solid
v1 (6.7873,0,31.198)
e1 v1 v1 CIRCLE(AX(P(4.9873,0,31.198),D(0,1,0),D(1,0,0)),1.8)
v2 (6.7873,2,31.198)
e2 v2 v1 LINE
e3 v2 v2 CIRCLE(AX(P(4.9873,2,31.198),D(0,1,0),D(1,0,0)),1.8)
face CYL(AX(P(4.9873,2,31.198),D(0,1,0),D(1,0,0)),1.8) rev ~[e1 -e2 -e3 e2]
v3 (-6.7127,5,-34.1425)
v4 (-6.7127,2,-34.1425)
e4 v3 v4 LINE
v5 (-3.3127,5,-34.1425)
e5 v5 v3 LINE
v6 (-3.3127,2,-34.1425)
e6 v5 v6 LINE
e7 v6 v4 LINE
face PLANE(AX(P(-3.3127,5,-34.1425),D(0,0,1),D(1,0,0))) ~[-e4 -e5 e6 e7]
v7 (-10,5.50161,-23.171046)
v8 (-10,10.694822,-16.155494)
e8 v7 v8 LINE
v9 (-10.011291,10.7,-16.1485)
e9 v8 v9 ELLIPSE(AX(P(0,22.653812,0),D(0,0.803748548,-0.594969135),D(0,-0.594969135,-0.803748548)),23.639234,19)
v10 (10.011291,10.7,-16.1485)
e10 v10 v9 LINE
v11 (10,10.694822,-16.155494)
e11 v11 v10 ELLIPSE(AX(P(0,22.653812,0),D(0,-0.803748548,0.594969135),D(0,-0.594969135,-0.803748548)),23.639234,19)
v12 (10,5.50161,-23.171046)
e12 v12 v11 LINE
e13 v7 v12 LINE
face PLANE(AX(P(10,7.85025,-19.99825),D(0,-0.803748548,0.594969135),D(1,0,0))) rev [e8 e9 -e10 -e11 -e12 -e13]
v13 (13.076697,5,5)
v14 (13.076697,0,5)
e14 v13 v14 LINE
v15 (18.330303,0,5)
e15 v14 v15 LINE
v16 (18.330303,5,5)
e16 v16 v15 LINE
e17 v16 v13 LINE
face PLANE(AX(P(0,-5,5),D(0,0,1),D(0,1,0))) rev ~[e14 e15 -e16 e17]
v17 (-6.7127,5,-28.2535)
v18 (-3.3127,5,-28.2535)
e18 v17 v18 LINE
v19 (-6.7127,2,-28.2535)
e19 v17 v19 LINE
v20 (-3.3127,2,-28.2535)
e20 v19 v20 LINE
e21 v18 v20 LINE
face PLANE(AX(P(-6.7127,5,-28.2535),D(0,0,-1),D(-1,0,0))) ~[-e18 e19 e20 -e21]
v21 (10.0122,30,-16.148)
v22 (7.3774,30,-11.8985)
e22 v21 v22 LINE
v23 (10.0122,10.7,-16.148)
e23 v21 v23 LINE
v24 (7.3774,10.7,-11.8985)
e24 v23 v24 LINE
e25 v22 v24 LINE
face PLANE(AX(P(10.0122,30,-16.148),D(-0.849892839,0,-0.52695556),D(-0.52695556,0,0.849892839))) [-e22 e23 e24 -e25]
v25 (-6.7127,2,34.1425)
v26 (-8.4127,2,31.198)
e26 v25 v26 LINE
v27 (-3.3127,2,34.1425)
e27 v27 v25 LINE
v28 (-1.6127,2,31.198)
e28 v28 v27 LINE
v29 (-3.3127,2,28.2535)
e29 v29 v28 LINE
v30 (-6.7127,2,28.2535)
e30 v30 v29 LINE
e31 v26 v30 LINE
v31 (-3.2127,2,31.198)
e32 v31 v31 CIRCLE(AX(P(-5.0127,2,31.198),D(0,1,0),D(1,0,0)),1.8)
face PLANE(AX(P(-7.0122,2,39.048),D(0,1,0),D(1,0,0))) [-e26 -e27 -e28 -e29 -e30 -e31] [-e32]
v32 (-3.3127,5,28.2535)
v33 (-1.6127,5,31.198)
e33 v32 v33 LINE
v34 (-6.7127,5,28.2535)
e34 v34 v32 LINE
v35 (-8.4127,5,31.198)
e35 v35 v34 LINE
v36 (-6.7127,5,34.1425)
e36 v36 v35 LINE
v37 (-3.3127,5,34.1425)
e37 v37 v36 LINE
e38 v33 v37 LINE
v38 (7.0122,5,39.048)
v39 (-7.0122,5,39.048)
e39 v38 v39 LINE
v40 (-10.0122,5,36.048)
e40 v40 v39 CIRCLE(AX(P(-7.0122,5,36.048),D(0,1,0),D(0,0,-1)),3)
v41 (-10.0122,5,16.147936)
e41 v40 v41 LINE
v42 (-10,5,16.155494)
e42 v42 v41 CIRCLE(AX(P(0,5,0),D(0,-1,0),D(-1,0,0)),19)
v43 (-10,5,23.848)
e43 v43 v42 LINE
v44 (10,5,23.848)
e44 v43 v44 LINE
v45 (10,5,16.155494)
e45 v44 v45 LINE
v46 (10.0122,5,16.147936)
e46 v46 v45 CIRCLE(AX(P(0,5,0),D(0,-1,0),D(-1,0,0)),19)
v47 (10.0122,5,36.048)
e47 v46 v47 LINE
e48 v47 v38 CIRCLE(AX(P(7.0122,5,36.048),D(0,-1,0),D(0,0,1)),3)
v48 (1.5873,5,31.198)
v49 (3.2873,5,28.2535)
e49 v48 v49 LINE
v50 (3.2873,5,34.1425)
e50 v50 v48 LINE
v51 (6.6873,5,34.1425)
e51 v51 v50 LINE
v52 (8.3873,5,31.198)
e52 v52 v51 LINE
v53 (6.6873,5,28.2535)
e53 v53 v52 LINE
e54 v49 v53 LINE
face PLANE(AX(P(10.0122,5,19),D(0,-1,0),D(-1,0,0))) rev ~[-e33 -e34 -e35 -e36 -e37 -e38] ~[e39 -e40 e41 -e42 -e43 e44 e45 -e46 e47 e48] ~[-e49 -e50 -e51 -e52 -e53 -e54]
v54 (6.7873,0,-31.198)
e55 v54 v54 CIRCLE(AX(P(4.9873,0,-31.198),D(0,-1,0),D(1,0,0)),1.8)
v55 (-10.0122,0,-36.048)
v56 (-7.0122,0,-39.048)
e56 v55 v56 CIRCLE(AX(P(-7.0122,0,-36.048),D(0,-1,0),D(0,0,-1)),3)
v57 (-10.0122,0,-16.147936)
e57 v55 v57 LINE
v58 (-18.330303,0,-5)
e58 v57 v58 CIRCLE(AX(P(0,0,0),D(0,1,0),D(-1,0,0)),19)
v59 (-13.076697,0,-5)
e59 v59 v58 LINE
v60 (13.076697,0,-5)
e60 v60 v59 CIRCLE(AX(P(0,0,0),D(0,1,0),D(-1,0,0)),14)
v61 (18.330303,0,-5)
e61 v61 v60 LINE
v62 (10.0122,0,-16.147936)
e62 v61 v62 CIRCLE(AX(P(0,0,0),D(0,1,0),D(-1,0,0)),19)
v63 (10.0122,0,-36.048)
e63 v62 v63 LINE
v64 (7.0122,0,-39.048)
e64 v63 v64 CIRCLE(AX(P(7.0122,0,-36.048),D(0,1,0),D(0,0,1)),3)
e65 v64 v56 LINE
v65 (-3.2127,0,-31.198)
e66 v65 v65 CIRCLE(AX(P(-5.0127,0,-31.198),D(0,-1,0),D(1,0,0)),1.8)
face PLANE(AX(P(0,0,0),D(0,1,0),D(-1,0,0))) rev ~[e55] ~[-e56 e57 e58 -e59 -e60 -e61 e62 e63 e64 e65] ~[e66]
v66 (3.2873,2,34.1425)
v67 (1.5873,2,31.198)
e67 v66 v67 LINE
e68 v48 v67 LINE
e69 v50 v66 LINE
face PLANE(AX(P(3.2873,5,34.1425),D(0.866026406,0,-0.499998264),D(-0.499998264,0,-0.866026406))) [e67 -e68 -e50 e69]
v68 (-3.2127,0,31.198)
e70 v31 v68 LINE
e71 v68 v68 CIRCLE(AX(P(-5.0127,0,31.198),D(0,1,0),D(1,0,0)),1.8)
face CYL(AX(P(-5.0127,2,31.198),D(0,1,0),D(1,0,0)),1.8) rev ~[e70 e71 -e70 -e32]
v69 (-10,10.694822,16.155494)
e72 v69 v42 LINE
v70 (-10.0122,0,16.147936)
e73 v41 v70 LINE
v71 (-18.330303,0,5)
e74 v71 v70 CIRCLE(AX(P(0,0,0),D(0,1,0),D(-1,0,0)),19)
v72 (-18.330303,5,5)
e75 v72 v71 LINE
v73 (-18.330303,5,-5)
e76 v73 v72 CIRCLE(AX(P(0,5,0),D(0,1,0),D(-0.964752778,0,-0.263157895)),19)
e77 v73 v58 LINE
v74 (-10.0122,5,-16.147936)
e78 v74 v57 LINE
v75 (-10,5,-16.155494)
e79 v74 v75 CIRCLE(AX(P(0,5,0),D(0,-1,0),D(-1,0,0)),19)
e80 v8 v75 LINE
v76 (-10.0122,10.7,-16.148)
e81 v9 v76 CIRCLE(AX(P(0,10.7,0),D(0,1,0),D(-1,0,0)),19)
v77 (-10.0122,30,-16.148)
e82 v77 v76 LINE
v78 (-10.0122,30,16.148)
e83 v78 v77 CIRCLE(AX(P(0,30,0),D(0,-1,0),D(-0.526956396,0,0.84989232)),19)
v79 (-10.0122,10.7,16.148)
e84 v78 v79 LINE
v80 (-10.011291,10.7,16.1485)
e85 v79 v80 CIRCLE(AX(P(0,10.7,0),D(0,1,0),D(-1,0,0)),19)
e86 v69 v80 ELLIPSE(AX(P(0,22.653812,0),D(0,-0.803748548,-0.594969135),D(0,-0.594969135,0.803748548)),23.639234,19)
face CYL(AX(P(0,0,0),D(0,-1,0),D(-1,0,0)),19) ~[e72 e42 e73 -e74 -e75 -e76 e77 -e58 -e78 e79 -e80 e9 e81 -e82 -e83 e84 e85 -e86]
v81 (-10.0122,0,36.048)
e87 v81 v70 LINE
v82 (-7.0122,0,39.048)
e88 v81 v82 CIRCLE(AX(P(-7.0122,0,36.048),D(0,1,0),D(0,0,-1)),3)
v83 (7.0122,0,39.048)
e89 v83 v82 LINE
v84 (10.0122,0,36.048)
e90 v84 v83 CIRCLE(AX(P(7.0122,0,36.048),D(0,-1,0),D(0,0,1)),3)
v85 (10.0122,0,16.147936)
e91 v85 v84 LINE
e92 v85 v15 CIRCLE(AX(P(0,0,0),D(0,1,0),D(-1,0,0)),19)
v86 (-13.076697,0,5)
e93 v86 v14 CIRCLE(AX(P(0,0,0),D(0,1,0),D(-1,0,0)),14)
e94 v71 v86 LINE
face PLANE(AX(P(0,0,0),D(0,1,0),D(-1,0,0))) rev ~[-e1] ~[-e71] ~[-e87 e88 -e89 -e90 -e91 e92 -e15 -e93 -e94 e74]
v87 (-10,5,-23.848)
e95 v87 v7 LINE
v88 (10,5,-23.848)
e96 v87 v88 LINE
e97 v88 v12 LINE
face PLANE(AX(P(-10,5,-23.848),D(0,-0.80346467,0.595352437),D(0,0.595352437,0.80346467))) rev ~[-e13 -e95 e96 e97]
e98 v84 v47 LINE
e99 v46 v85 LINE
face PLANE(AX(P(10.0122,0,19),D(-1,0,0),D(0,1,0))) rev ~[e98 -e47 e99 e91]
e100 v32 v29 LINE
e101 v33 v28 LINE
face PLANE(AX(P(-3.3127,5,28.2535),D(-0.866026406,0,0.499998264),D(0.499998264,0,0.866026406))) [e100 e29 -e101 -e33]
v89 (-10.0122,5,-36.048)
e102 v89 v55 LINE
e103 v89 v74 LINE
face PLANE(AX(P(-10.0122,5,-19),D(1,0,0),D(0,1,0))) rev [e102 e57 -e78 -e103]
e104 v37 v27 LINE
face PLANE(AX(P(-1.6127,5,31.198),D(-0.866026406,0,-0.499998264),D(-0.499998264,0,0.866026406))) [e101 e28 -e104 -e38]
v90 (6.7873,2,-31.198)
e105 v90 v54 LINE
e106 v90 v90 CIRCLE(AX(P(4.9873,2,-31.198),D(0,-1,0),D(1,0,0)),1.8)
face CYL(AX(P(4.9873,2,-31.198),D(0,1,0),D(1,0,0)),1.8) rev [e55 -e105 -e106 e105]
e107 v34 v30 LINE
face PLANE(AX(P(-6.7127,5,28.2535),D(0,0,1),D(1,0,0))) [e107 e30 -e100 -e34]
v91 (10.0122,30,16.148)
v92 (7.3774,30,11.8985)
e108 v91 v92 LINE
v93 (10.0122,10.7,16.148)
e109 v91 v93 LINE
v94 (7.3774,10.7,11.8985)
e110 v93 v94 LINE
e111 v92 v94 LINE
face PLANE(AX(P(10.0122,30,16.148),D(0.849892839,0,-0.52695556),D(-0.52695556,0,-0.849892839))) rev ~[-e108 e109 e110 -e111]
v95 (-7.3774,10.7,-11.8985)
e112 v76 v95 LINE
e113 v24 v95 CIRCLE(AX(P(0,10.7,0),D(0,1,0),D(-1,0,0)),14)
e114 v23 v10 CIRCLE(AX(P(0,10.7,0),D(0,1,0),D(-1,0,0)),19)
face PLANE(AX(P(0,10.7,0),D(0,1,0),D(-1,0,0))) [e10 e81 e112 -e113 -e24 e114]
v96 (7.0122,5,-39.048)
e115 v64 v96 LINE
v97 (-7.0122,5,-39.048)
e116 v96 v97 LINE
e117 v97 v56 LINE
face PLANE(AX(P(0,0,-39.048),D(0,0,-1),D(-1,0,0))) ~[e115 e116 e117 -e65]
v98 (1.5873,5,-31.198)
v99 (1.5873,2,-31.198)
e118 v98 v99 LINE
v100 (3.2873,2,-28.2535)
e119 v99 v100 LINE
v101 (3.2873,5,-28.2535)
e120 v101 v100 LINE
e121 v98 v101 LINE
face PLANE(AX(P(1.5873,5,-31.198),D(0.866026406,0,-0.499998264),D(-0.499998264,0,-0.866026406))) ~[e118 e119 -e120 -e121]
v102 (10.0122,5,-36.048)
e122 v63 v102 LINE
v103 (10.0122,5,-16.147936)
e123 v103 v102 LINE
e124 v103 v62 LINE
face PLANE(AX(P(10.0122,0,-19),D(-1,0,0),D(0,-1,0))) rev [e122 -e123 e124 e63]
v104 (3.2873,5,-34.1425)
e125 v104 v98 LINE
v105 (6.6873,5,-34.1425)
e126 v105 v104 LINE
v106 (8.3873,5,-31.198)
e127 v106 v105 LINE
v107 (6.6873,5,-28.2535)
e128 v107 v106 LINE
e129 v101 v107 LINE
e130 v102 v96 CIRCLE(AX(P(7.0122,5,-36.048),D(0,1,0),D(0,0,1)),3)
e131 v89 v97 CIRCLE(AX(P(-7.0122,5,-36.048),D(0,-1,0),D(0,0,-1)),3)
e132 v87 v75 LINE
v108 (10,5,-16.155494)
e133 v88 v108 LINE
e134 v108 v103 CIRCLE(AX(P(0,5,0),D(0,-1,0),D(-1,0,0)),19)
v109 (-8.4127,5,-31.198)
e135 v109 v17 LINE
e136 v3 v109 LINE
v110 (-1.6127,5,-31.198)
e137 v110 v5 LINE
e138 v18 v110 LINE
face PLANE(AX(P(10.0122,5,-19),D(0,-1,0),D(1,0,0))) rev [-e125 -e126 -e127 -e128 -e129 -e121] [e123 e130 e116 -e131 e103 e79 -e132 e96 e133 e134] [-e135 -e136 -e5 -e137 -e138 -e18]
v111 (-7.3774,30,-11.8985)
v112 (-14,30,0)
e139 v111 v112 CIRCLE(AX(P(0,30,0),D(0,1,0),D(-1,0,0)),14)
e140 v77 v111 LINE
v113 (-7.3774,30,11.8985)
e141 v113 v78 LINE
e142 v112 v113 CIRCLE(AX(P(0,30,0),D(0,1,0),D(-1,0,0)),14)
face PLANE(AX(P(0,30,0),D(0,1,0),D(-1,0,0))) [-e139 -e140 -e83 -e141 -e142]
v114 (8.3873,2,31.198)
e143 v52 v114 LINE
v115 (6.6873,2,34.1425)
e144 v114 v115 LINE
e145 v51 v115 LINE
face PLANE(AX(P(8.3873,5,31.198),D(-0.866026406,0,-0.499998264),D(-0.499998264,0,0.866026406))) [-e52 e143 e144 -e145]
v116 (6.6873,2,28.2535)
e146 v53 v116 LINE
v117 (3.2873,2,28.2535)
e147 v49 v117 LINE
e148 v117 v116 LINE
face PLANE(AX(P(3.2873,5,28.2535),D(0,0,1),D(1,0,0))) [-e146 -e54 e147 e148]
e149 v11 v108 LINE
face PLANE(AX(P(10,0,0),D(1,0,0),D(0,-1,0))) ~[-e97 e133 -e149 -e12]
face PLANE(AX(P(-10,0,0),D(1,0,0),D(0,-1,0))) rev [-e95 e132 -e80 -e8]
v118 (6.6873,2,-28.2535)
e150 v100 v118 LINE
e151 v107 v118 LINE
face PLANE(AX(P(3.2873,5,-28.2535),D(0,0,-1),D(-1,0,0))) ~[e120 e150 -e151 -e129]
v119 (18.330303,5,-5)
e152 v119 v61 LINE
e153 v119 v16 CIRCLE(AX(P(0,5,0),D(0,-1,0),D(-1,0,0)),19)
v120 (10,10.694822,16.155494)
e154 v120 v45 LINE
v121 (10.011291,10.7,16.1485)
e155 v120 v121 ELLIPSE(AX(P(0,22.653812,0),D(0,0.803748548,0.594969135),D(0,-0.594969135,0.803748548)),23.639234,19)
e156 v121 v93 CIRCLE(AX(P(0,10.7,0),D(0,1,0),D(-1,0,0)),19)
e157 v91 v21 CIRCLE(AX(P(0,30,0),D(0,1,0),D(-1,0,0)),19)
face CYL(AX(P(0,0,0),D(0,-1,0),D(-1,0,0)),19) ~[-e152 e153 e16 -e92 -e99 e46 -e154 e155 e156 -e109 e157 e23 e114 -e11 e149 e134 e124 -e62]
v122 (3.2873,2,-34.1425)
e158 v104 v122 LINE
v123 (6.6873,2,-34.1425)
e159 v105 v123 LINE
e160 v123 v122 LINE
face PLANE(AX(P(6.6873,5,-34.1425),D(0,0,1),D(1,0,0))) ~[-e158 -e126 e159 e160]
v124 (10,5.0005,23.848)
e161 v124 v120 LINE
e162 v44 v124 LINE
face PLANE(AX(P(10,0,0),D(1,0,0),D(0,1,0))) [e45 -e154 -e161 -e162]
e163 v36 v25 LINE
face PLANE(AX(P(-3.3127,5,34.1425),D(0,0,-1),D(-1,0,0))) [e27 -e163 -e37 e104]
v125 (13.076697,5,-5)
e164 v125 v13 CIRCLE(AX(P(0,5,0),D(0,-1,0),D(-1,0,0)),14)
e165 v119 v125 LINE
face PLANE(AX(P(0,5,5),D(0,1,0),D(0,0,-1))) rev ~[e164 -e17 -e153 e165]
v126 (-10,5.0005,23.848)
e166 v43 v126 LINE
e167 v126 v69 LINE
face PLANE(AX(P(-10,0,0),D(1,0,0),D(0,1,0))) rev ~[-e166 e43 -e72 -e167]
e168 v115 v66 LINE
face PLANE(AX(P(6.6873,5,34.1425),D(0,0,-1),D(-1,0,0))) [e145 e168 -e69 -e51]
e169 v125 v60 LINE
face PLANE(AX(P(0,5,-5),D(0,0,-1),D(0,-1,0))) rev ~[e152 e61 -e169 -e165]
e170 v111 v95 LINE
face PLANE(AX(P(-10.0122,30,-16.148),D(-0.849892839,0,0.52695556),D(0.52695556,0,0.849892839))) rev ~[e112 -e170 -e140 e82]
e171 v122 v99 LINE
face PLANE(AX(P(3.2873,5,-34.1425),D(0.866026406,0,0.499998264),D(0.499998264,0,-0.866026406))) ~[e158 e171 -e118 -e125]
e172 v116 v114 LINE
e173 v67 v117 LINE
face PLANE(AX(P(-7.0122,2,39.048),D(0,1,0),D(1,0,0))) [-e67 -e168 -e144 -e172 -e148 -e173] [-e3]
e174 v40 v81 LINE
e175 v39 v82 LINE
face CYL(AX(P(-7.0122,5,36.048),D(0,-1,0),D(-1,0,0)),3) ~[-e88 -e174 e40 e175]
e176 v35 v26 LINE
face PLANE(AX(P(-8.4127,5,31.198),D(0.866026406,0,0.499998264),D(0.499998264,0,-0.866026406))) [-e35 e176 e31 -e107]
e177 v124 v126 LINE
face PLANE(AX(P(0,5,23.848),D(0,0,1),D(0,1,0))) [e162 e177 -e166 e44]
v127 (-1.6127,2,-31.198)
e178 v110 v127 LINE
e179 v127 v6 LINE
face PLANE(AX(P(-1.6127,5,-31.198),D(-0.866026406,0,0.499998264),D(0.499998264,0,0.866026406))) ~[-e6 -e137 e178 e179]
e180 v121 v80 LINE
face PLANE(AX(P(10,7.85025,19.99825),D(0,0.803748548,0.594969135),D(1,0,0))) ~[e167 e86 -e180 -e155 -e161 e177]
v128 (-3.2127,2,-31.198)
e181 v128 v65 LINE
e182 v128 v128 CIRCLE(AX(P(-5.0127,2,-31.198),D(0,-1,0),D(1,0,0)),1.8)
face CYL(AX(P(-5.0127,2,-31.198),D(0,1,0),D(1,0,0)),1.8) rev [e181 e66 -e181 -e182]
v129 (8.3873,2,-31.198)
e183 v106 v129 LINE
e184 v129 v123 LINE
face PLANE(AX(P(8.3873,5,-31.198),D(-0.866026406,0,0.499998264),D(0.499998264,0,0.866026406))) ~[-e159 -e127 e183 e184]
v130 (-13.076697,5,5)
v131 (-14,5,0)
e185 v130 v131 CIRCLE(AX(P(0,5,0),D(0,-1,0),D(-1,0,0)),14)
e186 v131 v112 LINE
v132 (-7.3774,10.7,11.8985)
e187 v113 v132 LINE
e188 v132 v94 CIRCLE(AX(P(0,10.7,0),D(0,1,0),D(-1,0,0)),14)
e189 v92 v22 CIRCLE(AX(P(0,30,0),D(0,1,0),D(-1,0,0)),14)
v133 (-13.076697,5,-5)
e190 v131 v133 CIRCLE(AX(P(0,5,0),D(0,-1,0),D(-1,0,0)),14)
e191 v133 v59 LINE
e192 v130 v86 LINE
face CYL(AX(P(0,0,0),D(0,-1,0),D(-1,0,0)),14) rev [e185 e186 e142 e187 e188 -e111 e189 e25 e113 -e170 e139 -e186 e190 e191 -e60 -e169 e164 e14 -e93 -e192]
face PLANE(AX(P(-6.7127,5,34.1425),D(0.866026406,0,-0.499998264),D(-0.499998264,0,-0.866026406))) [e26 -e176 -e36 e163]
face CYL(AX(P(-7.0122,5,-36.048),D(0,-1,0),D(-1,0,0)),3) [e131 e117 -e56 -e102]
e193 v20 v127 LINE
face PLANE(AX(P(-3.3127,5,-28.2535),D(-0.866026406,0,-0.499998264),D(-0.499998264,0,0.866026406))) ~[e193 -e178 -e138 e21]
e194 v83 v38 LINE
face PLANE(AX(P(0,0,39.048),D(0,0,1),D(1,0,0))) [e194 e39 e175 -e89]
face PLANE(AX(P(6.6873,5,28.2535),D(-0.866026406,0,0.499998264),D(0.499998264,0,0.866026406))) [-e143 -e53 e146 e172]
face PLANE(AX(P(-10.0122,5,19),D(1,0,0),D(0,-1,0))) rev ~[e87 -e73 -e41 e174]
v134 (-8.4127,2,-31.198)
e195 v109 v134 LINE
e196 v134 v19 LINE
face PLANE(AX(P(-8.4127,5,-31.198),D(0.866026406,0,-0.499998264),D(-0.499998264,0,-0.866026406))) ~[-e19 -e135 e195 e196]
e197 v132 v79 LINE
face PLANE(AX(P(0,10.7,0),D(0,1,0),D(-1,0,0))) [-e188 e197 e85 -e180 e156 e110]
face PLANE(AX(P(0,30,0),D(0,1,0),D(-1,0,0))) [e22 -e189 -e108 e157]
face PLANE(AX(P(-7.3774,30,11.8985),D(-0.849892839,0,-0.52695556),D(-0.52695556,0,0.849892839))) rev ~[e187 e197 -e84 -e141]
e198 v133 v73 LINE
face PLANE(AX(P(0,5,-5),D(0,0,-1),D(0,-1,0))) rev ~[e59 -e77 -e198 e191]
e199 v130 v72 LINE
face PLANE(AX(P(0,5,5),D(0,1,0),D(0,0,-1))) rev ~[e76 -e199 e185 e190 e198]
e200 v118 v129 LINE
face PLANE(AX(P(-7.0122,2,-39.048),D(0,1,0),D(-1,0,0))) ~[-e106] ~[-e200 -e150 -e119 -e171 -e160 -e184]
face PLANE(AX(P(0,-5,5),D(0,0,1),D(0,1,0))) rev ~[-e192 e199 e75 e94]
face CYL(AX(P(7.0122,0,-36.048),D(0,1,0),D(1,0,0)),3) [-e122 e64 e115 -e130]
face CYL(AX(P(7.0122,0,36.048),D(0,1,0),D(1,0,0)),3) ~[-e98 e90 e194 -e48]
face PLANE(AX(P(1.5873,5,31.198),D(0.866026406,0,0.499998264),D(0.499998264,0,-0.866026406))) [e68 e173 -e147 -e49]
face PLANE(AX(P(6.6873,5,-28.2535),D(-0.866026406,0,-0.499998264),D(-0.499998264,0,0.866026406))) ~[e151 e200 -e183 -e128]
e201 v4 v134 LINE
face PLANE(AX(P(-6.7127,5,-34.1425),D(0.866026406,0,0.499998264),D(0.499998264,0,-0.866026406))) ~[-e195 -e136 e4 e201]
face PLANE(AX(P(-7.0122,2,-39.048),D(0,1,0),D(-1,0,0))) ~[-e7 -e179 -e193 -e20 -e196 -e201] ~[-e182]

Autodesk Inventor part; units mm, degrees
ref_plane "YZ Plane" through (0, 0, 0) normal (1, 0, 0) x (0, 1, 0)
sketch "Esboço1" plane through (0, 0, 0) normal (0, 1, 0) x (-1, 0, 0)
  circle A0 centre (0, 0) radius 19
  circle A1 centre (0, 0) radius 14
  dimension "d0" = 38
  dimension "d1" = 28
extrude "Extrusão1" add sketch "Esboço1" along normal blind 30
sketch "Esboço2" plane through (0, 0, 0) normal (1, 0, 0) x (0, 1, 0)
  line L0 (-5, 5) -> (5, 5)
  line L1 (5, 5) -> (5, -5)
  line L2 (5, -5) -> (-5, -5)
  line L3 (-5, -5) -> (-5, 5)
  line L4 (-5, 5) -> (5, -5) construction
  line L5 (5, 5) -> (-5, -5) construction
  point P0 (0, 0)
  dimension "d4" = 10
  dimension "d5" = 10
extrude "Extrusão2" cut sketch "Esboço2" along normal mid plane 40
sketch "Esboço3" plane through (0, 0, 0) normal (0, 0, 1) x (1, 0, 0)
  point P0 (0, 0)
ref_plane "Plano de trabalho1" through (0, 30, 0) normal (0, 1, 0) x (-1, 0, 0)
sketch "Esboço4" plane through (0, 30, 0) normal (0, 1, 0) x (-1, 0, 0)
  circle A0 centre (0, 0) radius 19 projected
  line L0 (10.0122, 16.148) -> (-10.0122, -16.148) construction
  line L1 (-10.0122, 16.148) -> (10.0122, -16.148) construction
  circle A1 centre (0, 0) radius 14 projected
  line L2 (7.3774, 11.8985) -> (-7.3774, -11.8985) construction
  line L3 (-7.3774, 11.8985) -> (7.3774, -11.8985) construction
  line L4 (10.0122, -16.148) -> (7.3774, -11.8985)
  line L5 (-10.0122, -16.148) -> (-7.3774, -11.8985)
  line L6 (-10.0122, 16.148) -> (-7.3774, 11.8985)
  line L7 (7.3774, 11.8985) -> (10.0122, 16.148)
  arc A2 (-10.0122, -16.148) -> (10.0122, -16.148) centre (0, 0) ccw
  arc A3 (10.0122, 16.148) -> (-10.0122, 16.148) centre (0, 0) ccw
  arc A4 (7.3774, 11.8985) -> (-7.3774, 11.8985) centre (0, 0) ccw
  arc A5 (-7.3774, -11.8985) -> (7.3774, -11.8985) centre (0, 0) ccw
extrude "Extrusão3" cut sketch "Esboço4" against normal blind 19.3 contours L7 A1 L6 A0 | A0 L5 A1 L4
sketch "Esboço5" plane through (0, 30, 0) normal (0, 1, 0) x (-1, 0, 0)
  point P0 (0, 0)
ref_plane "Plano de trabalho4" through (0, 0, 19) normal (0, 0, 1) x (1, 0, 0)
sketch "Esboço6" plane through (0, 0, 19) normal (0, 0, 1) x (1, 0, 0)
  line L0 (-10.0122, 10.7) -> (-7.3774, 10.7) projected
  line L1 (7.3774, 10.7) -> (10.0122, 10.7) projected
  line L2 (13.0767, 0) -> (-13.0767, 0) projected
  line L3 (10.0122, 0) -> (-10.0122, 0)
  line L4 (-10.0122, 0) -> (10.0122, 0)
  line L5 (10.0122, 0) -> (10.0122, 5)
  line L6 (10.0122, 5) -> (-10.0122, 5)
  line L7 (-10.0122, 5) -> (-10.0122, 0)
  point P0 (0, 0)
  dimension "d20" = 5
extrude "Extrusão4" add sketch "Esboço6" along normal blind 20.048 and the other way blind 3
fillet "Arredondamento1" radius 3 2 edges at (-10.0122, 2.5, 39.048) (10.0122, 2.5, 39.048)
sketch "Esboço7" plane through (0, 0, 0) normal (1, 0, 0) x (0, 1, 0)
  line L0 (10.7, 16.148) -> (10.7, 11.8985) projected
  line L1 (5, 36.048) -> (5, 16.148) projected
  line L2 (10.7, 16.148) -> (5, 16.148)
  line L3 (5, 16.148) -> (5, 23.848)
  line L4 (5, 23.848) -> (10.7, 23.848)
  line L5 (10.7, 23.848) -> (10.7, 16.148)
  point P0 (0, 0)
  dimension "d28" = 7.7
extrude "Extrusão5" add sketch "Esboço7" along normal mid plane 20
chamfer "Chanfro1" distance 5.7 distance2 7.7 1 edges at (0, 10.7, 23.848) measured on face at (-3.3333, 6.9, 23.848)
sketch "Esboço8" plane through (-7.0122, 5, 39.048) normal (0, 1, 0) x (1, 0, 0)
  line L0 (0, 0) -> (14.0243, 0) projected
  line L1 (1.9995, 0) -> (1.9995, 7.85) construction
  line L2 (5.3995, 7.85) -> (3.6995, 4.9055)
  line L3 (3.6995, 4.9055) -> (0.2995, 4.9055)
  line L4 (0.2995, 4.9055) -> (-1.4005, 7.85)
  line L5 (-1.4005, 7.85) -> (0.2995, 10.7945)
  line L6 (0.2995, 10.7945) -> (3.6995, 10.7945)
  line L7 (3.6995, 10.7945) -> (5.3995, 7.85)
  line L8 (5.3995, 7.85) -> (8.5995, 7.85) construction
  line L9 (11.9995, 0) -> (11.9995, 7.85) construction
  line L10 (15.3995, 7.85) -> (13.6995, 4.9055)
  line L11 (13.6995, 4.9055) -> (10.2995, 4.9055)
  line L12 (10.2995, 4.9055) -> (8.5995, 7.85)
  line L13 (8.5995, 7.85) -> (10.2995, 10.7945)
  line L14 (10.2995, 10.7945) -> (13.6995, 10.7945)
  line L15 (13.6995, 10.7945) -> (15.3995, 7.85)
  line L16 (-1.4005, 7.85) -> (-3.0005, 7.85) construction
  line L17 (15.3995, 7.85) -> (16.9995, 7.85) construction
  line L18 (17.0243, 3) -> (17.0243, 22.9) projected
  line L19 (-3, 3) -> (-3, 22.9) projected
  line L20 (-3, 22.9) -> (-3, 3) projected
  point P0 (7.0122, 39.048)
  point P1 (-3, 7.85)
  dimension "d37" = 7.85
  dimension "d38" = 3.4
  dimension "d39" = 3.2
  dimension "d40" = 7.85
  dimension "d41" = 3.4
  dimension "d43" = 16.8
  dimension "d44" = 1.6
  dimension "d45" = 1.6
ref_plane "Plano de trabalho5" through (0, 0, 16.148) normal (0, 0, 1) x (1, 0, 0)
extrude "Extrusão6" cut sketch "Esboço8" against normal blind 3
sketch "Esboço9" plane through (-7.0122, 2, 39.048) normal (0, 1, 0) x (1, 0, 0)
  line L0 (0.2995, 10.7945) -> (3.6995, 10.7945) construction
  line L1 (5.3995, 7.85) -> (3.6995, 4.9055) projected
  line L2 (3.6995, 10.7945) -> (5.3995, 7.85) projected
  line L3 (0.2995, 10.7945) -> (3.6995, 10.7945) projected
  line L4 (-1.4005, 7.85) -> (0.2995, 10.7945) projected
  line L5 (0.2995, 4.9055) -> (-1.4005, 7.85) projected
  line L6 (3.6995, 4.9055) -> (0.2995, 4.9055) projected
  line L7 (3.6995, 10.7945) -> (0.2995, 4.9055) construction
  line L8 (0.2995, 10.7945) -> (3.6995, 4.9055) construction
  circle A0 centre (1.9995, 7.85) radius 1.8
  line L9 (15.3995, 7.85) -> (13.6995, 4.9055) construction
  line L10 (13.6995, 10.7945) -> (15.3995, 7.85) construction
  line L11 (10.2995, 10.7945) -> (13.6995, 10.7945) construction
  line L12 (8.5995, 7.85) -> (10.2995, 10.7945) construction
  line L13 (10.2995, 4.9055) -> (8.5995, 7.85) construction
  line L14 (13.6995, 4.9055) -> (10.2995, 4.9055) construction
  line L15 (13.6995, 10.7945) -> (10.2995, 4.9055) construction
  line L16 (10.2995, 10.7945) -> (13.6995, 4.9055) construction
  circle A1 centre (11.9995, 7.85) radius 1.8
  point P0 (7.0122, 39.048)
  dimension "d49" = 3.6
  dimension "d50" = 3.6
extrude "Extrusão7" cut sketch "Esboço9" against normal up to next contours A0 | A1
mirror "Espelhamento1" about plane through (0, 0, 0) normal (0, 0, 1) of "Extrusão4", "Arredondamento1", "Extrusão5", "Chanfro1", "Extrusão6", "Extrusão7"
sketch "Esboço11" plane through (-10, 5, -16.1555) normal (-1, 0, 0) x (0, 0, 1)
  line L0 (0, 5.6944) -> (-7.6925, 0) projected
  line L1 (0, 5.7) -> (-7.6925, 5.7)
  line L2 (-7.6925, 5.7) -> (-7.6925, 0)
  line L3 (-7.6925, 0) -> (0, 5.7)
  point P0 (16.1555, -5)
  point P1 (0, 0)
extrude "Extrusão9" cut sketch "Esboço11" against normal blind 20
sketch "Esboço12" plane through (0, 0, 0) normal (0, -1, 0) x (1, 0, 0)
  circle A0 centre (-5.0126, 31.198) radius 1.8 projected
  circle A1 centre (4.9874, 31.198) radius 1.8 projected
  circle A2 centre (4.9874, -31.198) radius 1.8 projected
  circle A3 centre (-5.0126, -31.198) radius 1.8 projected
  point P0 (0, 0)
properties part number "SuporteMotor"
